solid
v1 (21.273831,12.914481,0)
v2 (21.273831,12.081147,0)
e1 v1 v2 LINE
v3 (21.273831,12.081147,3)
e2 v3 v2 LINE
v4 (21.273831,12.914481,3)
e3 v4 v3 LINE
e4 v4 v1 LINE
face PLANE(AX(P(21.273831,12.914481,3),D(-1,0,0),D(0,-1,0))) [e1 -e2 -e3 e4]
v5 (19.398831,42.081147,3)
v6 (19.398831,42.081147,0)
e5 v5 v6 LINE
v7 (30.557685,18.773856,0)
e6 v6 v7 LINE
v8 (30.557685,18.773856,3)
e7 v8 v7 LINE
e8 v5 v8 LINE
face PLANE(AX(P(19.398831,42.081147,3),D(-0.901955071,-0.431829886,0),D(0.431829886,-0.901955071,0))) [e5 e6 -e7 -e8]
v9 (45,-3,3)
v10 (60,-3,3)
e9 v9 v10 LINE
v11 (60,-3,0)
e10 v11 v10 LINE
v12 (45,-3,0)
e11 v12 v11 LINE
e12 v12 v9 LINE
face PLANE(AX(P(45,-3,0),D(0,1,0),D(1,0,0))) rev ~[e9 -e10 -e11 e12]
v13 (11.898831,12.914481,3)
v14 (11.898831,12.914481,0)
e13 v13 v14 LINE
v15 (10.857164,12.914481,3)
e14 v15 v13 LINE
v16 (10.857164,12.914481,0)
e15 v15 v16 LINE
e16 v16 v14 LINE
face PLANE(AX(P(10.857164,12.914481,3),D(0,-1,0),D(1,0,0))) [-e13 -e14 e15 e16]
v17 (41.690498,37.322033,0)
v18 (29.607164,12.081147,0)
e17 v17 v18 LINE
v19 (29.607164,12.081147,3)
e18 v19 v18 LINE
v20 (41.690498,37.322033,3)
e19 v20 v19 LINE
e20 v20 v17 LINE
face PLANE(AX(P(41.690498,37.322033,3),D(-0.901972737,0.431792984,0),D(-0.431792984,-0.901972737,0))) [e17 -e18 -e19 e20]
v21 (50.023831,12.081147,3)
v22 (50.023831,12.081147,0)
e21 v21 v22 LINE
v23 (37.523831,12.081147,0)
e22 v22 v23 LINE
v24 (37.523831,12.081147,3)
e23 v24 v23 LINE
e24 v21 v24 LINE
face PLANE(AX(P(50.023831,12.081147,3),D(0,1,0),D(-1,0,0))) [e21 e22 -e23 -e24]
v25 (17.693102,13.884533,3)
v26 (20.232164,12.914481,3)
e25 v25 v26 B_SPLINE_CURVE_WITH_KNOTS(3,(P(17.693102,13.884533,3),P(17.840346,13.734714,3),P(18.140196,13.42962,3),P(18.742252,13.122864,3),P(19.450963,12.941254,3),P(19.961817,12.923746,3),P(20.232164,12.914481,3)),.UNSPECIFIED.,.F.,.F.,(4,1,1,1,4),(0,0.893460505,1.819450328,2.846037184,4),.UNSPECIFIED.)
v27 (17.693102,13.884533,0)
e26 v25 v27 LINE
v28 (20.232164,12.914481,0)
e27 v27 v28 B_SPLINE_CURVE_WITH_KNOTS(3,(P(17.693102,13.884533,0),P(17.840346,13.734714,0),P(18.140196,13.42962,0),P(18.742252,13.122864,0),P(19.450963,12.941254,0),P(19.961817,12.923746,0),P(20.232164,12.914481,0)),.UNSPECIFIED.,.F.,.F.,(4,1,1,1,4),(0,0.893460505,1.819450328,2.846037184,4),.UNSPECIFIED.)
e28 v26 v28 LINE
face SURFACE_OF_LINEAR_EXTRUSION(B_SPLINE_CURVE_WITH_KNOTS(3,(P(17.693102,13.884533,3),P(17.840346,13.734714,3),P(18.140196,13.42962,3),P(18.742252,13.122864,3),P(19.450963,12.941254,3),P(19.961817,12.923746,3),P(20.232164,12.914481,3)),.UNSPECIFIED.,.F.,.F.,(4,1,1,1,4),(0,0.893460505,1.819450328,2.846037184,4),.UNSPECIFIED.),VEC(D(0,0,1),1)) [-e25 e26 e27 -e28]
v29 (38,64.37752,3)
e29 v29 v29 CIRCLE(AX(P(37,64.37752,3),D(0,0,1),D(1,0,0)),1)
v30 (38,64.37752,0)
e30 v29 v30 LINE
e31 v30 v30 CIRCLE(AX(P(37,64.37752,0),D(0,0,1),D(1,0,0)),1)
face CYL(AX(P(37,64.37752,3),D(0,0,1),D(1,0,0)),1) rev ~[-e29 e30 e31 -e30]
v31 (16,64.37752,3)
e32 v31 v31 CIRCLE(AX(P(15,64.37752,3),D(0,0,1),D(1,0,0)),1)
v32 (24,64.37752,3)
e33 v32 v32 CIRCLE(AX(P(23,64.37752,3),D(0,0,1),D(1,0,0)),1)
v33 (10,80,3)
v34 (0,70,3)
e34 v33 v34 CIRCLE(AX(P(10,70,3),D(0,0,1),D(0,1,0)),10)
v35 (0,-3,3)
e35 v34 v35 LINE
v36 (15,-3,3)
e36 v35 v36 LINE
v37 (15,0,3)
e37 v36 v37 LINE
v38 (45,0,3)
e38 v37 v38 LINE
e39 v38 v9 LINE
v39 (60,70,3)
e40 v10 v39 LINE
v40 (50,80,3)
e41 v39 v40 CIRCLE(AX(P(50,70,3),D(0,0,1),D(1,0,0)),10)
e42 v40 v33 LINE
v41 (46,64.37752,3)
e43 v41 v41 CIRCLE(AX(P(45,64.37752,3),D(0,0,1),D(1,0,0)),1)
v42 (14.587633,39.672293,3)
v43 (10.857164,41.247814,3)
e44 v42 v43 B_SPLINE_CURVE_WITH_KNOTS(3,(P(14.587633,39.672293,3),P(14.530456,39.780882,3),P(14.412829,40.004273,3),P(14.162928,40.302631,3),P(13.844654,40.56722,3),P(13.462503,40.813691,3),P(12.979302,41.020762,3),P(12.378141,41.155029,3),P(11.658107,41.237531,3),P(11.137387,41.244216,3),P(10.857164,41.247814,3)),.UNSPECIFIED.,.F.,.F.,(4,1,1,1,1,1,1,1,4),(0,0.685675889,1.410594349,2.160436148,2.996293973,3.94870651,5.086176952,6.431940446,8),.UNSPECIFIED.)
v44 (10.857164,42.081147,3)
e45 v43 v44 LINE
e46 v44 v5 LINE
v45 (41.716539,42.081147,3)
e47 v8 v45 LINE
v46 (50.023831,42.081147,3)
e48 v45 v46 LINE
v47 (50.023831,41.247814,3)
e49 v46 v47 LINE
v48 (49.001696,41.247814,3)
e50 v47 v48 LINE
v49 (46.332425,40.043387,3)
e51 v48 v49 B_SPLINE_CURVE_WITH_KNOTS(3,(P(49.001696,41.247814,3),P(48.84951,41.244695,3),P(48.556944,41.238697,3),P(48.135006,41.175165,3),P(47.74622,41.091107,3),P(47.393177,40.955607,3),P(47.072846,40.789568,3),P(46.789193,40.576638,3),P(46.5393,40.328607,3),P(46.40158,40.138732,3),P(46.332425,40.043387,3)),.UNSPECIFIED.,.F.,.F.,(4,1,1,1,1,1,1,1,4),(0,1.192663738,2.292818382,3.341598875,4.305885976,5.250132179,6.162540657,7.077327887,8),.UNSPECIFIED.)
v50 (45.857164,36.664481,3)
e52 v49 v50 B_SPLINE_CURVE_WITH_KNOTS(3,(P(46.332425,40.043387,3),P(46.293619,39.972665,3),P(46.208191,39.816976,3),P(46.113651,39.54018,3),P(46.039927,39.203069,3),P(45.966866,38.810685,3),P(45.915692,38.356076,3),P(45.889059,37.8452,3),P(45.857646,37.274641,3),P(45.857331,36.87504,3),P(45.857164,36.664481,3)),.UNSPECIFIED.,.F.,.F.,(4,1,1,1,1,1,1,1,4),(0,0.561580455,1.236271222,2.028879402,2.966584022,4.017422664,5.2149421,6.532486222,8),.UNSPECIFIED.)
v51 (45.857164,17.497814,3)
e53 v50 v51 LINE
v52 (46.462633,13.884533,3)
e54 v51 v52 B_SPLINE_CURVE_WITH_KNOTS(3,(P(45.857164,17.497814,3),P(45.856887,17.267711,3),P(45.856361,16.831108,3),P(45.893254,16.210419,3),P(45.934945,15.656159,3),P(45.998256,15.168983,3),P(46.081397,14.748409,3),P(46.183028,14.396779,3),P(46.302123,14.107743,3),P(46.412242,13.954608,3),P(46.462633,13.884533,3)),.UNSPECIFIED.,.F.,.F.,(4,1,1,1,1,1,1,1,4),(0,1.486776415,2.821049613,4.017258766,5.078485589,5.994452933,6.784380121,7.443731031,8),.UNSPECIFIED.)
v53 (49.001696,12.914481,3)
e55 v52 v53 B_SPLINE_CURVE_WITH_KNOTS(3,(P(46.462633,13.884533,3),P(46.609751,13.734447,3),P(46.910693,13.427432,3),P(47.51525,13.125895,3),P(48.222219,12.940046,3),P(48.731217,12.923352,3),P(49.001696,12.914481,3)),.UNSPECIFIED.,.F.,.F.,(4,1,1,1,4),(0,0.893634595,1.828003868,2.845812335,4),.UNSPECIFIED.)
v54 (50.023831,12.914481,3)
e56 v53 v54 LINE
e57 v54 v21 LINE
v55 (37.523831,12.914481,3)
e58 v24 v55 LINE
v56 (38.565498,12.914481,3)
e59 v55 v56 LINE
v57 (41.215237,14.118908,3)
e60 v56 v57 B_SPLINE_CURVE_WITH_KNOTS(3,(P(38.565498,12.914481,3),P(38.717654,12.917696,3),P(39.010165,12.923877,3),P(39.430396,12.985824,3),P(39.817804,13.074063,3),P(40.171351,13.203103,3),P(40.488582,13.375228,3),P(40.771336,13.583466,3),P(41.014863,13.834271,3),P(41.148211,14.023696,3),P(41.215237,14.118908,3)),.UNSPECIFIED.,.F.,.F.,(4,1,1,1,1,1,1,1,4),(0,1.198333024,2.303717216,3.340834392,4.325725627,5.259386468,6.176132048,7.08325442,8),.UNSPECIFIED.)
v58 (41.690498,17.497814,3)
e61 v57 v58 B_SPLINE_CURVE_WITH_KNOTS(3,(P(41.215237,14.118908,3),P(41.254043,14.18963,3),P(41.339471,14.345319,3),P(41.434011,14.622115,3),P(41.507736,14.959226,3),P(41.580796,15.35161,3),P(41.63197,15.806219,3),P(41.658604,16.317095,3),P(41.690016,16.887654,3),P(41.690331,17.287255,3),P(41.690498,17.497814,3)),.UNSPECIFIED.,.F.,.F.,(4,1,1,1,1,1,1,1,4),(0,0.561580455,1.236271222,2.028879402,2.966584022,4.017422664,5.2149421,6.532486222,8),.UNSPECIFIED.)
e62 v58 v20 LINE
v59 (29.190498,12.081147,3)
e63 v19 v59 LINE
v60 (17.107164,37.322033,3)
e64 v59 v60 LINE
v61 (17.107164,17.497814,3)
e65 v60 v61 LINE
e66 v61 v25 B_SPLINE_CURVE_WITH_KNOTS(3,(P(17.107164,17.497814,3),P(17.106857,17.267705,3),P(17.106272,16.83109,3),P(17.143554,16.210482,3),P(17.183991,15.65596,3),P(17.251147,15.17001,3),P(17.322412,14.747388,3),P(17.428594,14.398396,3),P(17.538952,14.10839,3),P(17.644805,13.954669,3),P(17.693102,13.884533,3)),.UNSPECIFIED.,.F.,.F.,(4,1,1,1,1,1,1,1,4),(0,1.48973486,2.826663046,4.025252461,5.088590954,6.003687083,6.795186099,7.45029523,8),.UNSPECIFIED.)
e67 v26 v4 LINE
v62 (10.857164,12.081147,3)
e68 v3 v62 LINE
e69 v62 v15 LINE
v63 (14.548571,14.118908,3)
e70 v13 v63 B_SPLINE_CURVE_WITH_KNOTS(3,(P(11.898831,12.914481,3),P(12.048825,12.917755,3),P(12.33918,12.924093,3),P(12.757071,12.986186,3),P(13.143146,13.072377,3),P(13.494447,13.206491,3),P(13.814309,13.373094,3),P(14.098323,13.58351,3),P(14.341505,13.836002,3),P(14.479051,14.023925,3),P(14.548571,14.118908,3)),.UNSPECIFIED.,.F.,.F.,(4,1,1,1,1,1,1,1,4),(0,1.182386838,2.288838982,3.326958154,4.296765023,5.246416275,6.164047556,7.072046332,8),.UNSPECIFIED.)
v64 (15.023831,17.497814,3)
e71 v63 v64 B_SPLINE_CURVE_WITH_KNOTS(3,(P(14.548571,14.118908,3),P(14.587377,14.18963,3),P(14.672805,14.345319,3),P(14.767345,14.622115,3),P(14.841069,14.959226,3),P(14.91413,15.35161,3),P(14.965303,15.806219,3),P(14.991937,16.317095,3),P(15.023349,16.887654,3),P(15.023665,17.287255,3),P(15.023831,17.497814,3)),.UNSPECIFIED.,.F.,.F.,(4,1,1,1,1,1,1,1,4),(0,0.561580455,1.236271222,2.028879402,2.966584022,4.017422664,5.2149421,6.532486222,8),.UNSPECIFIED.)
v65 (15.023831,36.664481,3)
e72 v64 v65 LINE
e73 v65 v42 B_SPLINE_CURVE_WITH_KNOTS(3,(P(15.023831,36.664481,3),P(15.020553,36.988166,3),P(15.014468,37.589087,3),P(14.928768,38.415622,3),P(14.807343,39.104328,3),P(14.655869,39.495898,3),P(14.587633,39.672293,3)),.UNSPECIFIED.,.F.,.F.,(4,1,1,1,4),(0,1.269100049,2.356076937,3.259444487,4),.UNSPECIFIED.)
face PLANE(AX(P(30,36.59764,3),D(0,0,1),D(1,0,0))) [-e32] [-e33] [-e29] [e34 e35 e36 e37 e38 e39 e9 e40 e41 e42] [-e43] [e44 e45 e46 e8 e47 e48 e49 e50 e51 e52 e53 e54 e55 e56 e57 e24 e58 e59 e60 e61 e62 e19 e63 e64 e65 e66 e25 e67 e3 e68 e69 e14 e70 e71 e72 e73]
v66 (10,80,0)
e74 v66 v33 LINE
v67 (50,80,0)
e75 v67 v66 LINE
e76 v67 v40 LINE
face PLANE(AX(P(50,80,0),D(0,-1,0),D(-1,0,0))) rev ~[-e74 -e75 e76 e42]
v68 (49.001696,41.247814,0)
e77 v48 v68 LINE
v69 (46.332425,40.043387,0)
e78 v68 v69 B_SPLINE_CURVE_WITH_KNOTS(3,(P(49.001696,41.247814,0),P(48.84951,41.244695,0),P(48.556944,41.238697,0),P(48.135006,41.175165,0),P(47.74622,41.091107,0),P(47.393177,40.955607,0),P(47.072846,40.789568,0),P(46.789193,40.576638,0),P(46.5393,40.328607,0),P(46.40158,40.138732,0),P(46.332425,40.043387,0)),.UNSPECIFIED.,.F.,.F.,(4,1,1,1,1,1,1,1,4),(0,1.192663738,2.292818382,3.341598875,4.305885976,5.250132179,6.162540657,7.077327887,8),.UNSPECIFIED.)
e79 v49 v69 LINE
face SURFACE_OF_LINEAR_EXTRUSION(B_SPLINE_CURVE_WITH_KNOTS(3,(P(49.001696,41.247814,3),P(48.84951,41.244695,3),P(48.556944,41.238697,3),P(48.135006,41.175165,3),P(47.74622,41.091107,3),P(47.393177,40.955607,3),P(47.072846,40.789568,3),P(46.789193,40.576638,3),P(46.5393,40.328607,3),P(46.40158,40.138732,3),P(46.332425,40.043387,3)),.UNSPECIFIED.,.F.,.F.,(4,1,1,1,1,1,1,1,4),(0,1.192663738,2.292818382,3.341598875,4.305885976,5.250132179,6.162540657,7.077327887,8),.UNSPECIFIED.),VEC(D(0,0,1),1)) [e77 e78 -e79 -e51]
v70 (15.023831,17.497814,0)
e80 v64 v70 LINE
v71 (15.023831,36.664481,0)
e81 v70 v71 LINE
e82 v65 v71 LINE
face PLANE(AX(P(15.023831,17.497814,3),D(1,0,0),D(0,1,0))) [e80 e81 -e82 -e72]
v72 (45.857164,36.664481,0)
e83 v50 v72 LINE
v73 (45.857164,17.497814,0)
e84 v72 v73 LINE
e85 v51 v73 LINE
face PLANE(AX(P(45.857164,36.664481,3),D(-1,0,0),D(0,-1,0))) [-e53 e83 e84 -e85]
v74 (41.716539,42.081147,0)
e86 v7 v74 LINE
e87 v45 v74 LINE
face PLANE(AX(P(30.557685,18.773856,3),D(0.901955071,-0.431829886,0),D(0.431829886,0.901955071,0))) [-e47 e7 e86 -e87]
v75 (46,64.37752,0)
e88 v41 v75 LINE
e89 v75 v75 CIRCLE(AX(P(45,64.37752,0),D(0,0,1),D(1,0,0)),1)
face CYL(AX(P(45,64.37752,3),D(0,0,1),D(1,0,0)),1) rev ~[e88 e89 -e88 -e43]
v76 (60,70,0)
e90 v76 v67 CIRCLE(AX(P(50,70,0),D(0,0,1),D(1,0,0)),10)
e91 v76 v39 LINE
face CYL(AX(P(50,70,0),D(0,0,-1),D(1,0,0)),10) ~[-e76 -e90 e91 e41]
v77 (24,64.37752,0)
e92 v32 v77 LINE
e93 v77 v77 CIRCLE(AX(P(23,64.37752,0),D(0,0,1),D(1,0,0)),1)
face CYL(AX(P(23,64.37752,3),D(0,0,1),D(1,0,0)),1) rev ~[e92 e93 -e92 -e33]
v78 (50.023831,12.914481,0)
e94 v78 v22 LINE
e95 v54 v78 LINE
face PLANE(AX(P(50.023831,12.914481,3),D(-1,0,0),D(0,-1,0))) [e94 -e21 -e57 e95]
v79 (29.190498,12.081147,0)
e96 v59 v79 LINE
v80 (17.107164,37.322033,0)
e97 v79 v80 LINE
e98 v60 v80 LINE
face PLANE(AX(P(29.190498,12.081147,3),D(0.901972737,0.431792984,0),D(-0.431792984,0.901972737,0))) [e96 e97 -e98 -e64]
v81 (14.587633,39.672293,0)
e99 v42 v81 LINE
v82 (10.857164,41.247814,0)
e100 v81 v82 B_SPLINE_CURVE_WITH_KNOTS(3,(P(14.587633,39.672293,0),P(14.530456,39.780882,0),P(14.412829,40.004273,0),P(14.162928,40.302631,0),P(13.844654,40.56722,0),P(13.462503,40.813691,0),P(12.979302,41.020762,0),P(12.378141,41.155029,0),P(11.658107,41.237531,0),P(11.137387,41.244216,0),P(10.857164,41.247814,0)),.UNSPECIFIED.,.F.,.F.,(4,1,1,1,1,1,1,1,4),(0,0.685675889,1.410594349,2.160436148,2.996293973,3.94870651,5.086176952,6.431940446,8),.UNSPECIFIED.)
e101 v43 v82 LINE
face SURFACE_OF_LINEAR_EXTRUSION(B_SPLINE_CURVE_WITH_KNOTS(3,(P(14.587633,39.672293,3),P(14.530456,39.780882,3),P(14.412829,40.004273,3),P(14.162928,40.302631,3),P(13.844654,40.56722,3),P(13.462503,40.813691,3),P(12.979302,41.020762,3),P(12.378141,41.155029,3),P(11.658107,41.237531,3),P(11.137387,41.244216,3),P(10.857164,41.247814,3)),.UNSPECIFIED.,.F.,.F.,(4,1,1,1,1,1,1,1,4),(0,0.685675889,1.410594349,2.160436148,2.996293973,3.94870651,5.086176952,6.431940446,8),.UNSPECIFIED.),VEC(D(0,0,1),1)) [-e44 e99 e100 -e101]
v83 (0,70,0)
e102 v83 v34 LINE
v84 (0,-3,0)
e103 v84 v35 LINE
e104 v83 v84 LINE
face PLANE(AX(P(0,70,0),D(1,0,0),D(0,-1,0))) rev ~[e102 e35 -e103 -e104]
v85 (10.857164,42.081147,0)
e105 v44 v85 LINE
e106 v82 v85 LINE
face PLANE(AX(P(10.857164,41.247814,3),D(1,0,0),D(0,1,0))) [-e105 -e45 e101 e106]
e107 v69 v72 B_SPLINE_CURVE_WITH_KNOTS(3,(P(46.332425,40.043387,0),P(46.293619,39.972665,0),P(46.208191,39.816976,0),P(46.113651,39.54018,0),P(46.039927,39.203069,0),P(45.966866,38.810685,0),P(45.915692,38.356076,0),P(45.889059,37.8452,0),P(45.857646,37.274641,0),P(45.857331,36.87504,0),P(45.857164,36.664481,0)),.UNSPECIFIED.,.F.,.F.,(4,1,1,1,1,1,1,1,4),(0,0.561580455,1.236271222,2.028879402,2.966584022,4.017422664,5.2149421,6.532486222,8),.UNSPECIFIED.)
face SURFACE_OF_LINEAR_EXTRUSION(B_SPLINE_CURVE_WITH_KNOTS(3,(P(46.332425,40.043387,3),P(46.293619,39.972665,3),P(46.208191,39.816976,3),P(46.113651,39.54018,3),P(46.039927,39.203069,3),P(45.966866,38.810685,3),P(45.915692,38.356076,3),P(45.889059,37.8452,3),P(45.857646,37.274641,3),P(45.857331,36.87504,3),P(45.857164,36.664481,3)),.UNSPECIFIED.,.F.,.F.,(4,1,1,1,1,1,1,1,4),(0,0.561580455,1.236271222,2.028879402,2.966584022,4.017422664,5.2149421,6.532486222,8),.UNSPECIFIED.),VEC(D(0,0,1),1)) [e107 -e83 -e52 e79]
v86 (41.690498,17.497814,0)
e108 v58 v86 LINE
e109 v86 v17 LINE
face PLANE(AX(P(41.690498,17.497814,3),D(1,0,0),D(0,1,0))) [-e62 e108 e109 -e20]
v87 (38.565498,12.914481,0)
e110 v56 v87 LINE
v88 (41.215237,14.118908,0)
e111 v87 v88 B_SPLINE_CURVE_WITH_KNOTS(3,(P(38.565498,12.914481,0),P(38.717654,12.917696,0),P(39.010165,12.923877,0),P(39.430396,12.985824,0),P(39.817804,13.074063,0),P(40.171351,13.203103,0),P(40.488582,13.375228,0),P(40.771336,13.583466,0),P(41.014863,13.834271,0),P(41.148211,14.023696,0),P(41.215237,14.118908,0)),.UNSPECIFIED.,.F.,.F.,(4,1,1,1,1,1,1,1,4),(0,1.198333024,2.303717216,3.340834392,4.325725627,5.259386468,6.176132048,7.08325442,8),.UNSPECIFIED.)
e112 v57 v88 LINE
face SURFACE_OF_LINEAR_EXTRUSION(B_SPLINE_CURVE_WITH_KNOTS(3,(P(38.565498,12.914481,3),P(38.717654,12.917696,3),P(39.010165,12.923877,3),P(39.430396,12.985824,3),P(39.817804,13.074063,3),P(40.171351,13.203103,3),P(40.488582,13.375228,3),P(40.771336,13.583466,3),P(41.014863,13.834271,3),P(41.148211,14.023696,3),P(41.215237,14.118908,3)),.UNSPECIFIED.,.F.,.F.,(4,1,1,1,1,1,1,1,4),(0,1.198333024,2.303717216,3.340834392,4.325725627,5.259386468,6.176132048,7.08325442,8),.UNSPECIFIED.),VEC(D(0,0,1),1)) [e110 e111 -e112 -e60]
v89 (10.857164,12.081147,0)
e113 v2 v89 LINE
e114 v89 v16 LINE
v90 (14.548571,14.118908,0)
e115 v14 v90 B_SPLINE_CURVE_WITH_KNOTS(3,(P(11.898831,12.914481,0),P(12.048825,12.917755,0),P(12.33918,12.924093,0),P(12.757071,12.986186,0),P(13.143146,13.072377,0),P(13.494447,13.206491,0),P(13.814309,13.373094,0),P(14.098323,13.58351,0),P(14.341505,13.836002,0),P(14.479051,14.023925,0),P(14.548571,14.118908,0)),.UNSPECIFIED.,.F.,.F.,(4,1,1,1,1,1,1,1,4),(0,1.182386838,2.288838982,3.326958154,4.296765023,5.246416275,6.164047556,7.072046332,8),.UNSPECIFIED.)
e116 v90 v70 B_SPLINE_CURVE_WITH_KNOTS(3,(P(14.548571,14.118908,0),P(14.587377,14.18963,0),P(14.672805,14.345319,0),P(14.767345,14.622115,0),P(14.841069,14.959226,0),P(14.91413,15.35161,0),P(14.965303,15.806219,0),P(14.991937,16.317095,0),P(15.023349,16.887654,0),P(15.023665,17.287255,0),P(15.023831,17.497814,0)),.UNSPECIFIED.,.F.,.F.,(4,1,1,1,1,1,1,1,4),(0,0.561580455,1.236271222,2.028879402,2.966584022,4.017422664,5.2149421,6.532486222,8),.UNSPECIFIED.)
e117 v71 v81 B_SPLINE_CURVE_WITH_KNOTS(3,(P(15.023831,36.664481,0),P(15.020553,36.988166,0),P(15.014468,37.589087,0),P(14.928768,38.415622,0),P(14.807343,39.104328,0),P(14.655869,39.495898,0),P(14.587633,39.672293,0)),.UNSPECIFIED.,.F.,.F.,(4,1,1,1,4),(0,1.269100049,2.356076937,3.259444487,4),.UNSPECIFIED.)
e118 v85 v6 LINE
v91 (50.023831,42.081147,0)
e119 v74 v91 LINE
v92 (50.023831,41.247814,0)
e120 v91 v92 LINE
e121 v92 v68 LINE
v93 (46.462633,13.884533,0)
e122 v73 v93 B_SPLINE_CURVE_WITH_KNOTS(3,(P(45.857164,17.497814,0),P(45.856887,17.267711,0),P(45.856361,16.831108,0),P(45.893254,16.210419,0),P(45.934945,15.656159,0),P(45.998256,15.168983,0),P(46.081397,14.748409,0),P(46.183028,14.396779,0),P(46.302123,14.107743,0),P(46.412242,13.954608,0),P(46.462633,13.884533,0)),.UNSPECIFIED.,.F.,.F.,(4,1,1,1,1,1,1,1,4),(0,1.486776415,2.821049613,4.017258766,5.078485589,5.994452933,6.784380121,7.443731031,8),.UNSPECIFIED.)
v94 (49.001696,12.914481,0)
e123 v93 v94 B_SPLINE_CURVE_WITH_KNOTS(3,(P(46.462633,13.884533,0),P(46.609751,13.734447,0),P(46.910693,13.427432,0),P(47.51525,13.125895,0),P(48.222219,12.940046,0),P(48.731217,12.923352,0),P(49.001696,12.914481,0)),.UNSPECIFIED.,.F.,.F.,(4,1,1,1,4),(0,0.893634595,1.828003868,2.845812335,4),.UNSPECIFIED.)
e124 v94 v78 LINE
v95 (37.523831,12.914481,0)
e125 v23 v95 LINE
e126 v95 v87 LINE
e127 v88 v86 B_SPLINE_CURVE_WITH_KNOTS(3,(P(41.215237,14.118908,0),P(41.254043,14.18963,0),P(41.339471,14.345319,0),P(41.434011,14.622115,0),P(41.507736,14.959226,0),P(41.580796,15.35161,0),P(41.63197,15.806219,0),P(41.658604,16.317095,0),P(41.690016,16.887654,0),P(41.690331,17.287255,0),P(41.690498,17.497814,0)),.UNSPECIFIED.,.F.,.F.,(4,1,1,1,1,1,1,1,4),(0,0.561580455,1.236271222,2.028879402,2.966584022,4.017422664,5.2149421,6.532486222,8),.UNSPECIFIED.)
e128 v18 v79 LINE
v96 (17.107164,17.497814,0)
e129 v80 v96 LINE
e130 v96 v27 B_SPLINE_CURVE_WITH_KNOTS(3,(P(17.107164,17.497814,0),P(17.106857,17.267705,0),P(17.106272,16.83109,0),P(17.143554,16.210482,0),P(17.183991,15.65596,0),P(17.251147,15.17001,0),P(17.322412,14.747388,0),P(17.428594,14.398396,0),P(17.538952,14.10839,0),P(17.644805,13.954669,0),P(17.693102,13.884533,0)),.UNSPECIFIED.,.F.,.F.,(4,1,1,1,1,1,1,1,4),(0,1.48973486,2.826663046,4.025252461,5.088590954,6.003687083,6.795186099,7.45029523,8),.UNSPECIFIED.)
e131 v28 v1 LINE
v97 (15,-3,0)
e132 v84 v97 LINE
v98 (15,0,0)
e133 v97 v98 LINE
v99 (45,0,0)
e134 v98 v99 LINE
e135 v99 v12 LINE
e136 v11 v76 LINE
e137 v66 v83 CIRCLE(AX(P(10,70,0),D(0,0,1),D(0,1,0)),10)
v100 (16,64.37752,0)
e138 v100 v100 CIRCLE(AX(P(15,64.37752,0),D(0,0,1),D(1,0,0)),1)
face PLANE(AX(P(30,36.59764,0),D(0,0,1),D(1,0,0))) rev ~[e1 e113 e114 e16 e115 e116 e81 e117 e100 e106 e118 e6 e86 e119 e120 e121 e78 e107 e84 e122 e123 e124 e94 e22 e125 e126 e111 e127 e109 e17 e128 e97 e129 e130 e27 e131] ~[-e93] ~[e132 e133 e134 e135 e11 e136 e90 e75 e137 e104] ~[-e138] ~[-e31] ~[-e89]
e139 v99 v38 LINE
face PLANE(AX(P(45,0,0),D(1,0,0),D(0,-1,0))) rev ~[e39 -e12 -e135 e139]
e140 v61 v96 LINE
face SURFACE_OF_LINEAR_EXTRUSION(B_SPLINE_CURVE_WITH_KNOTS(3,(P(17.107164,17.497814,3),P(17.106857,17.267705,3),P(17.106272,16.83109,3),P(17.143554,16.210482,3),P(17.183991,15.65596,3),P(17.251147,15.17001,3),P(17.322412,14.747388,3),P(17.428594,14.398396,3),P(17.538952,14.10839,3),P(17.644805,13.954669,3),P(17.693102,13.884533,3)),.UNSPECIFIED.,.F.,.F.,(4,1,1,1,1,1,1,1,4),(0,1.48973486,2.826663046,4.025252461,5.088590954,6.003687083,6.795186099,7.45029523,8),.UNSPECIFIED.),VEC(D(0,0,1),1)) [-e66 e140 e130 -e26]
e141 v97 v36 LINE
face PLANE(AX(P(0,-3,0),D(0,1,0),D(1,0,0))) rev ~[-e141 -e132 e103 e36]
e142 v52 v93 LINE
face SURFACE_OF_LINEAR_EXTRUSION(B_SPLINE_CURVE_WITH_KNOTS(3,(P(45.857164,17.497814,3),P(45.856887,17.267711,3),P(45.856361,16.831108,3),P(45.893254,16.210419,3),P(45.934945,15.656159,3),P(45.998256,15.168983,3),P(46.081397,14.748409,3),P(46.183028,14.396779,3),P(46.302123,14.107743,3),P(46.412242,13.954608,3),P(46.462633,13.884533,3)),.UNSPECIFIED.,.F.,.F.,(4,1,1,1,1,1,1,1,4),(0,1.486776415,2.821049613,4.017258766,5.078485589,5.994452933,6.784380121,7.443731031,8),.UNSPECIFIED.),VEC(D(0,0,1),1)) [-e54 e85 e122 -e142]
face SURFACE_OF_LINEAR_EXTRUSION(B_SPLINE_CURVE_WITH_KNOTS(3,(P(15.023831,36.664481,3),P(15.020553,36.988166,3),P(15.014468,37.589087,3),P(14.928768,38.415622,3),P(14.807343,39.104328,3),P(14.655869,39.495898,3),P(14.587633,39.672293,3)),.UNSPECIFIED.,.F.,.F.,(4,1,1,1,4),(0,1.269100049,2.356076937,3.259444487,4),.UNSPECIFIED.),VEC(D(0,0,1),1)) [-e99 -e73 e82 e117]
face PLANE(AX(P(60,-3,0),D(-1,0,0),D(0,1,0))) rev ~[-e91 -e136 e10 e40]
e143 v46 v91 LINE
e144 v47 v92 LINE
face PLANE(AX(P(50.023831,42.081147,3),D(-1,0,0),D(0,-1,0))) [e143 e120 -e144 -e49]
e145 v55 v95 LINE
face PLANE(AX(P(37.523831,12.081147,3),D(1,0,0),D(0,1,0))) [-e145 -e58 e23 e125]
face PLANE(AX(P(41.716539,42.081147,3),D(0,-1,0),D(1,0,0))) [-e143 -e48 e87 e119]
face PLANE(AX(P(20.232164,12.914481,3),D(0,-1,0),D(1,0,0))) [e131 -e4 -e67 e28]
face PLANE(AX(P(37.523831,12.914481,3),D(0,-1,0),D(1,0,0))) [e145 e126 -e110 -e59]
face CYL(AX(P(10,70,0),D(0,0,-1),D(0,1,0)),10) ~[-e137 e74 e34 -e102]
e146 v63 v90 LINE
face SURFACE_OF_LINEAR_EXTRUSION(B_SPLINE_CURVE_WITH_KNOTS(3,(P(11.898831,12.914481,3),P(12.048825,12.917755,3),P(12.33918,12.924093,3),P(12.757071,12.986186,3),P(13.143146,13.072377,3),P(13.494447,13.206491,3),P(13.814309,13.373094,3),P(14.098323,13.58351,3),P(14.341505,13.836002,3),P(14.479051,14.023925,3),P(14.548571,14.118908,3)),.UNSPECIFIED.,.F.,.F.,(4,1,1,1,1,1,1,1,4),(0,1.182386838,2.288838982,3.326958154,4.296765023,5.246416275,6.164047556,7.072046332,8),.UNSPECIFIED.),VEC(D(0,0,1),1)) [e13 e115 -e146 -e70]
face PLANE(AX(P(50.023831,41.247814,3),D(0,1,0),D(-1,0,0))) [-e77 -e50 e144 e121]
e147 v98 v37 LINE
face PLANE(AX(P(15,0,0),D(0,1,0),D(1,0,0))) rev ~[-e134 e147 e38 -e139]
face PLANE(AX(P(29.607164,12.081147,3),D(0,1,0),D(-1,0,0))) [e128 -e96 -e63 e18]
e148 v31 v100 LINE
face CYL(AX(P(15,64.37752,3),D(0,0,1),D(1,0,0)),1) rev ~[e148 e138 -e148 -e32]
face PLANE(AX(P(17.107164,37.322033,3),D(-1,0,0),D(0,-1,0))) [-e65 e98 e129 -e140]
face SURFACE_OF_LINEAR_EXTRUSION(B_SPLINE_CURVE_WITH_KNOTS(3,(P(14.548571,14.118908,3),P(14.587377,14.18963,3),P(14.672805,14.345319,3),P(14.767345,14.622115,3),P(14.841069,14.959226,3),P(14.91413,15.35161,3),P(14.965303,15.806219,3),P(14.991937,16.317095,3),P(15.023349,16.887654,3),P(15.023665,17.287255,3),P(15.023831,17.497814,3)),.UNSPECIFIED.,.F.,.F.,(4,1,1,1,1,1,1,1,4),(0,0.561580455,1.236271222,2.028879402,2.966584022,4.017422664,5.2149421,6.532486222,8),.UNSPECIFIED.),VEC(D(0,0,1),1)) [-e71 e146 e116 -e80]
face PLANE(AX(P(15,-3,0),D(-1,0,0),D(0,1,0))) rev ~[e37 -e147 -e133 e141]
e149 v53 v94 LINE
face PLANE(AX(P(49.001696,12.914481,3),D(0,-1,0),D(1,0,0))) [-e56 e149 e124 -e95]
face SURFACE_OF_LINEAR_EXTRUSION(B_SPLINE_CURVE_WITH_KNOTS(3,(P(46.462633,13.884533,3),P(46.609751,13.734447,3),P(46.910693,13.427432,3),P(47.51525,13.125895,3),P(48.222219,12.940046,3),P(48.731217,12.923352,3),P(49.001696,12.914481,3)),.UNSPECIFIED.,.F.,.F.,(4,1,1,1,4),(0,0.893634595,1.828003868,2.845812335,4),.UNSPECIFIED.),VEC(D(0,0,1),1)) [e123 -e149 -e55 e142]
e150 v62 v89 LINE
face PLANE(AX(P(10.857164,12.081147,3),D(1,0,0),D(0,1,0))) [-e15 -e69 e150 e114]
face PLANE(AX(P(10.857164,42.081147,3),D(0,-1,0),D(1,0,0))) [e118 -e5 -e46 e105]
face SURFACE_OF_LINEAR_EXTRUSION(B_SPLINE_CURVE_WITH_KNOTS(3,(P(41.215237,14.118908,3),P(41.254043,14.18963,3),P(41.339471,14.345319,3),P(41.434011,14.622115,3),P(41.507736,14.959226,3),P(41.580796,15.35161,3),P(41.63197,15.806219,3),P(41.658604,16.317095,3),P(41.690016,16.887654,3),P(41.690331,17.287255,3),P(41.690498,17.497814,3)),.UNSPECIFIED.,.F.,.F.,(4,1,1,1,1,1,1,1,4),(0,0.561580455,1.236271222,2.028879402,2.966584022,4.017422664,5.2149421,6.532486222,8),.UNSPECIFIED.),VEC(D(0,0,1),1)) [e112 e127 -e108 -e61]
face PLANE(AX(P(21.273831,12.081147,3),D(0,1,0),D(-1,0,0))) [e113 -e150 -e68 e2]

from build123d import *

# Parameters (mm, degrees)
BOSS_EXTRUDE1_DEPTH = 3
CUT_EXTRUDE1_DEPTH  = 3
SKETCH3_R           = 1
CUT_EXTRUDE2_DEPTH  = 3


with BuildPart() as part:
    # Sketch1 → Boss-Extrude1 (new body)
    with BuildSketch(Plane.XY):
        with BuildLine():
            Line((15, 0), (45, 0))
            Line((45, 0), (45, -3))
            Line((45, -3), (60, -3))
            Line((60, -3), (60, 0))
            Line((60, 0), (60, 70))
            ThreePointArc((60, 70), (57.071067812, 77.071067812), (50, 80))
            Line((50, 80), (10, 80))
            ThreePointArc((10, 80), (2.928932188, 77.071067812), (0, 70))
            Line((0, 70), (0, 0))
            Line((0, 0), (0, -3))
            Line((0, -3), (15, -3))
            Line((15, -3), (15, 0))
        make_face()
    extrude(amount=BOSS_EXTRUDE1_DEPTH)

    # Sketch2 → Cut-Extrude1 (cut)
    with BuildSketch(Plane.XY.offset(3)):
        with BuildLine():
            Line((29.19049781, 12.081147466), (17.107164477, 37.322032883))
            Line((17.107164477, 37.322032883), (17.107164477, 17.497814133))
            add(Edge.make_bspline(
                [(17.107164477, 17.497814133), (17.106856563, 17.267704948), (17.106272319, 16.831089584), (17.143554032, 16.210481556), (17.183991208, 15.655960439), (17.251147223, 15.170009562), (17.322412489, 14.747387769), (17.428594053, 14.398396218), (17.538951634, 14.108390436), (17.644805439, 13.95466925), (17.693101977, 13.884532883)],
                knots=[0, 0, 0, 0, 1.48973486, 2.826663046, 4.025252461, 5.088590954, 6.003687083, 6.795186099, 7.45029523, 8, 8, 8, 8], degree=3))
            add(Edge.make_bspline(
                [(17.693101977, 13.884532883), (17.840346266, 13.73471353), (18.140195748, 13.429620165), (18.742251873, 13.122863505), (19.450963165, 12.941254282), (19.961816932, 12.923746203), (20.232164477, 12.9144808)],
                knots=[0, 0, 0, 0, 0.893460505, 1.819450328, 2.846037184, 4, 4, 4, 4], degree=3))
            Line((20.232164477, 12.9144808), (21.273831144, 12.9144808))
            Line((21.273831144, 12.9144808), (21.273831144, 12.081147466))
            Line((21.273831144, 12.081147466), (10.857164477, 12.081147466))
            Line((10.857164477, 12.081147466), (10.857164477, 12.9144808))
            Line((10.857164477, 12.9144808), (11.898831144, 12.9144808))
            add(Edge.make_bspline(
                [(11.898831144, 12.9144808), (12.048825145, 12.917755098), (12.339180303, 12.924093413), (12.757070795, 12.986186233), (13.143145766, 13.072376691), (13.494447303, 13.206491265), (13.814309401, 13.373094257), (14.09832336, 13.583510491), (14.341505484, 13.83600194), (14.479050655, 14.023925059), (14.548570727, 14.118907883)],
                knots=[0, 0, 0, 0, 1.182386838, 2.288838982, 3.326958154, 4.296765023, 5.246416275, 6.164047556, 7.072046332, 8, 8, 8, 8], degree=3))
            add(Edge.make_bspline(
                [(14.548570727, 14.118907883), (14.587376699, 14.189630143), (14.672804719, 14.345319134), (14.767344621, 14.622115391), (14.841068835, 14.959225842), (14.914129522, 15.351610192), (14.965303143, 15.806218983), (14.991936983, 16.317094802), (15.023349157, 16.887654031), (15.023664816, 17.28725487), (15.023831144, 17.497814133)],
                knots=[0, 0, 0, 0, 0.561580455, 1.236271222, 2.028879402, 2.966584022, 4.017422664, 5.2149421, 6.532486222, 8, 8, 8, 8], degree=3))
            Line((15.023831144, 17.497814133), (15.023831144, 36.6644808))
            add(Edge.make_bspline(
                [(15.023831144, 36.6644808), (15.02055328, 36.988166413), (15.014467946, 37.589086891), (14.928768358, 38.415621701), (14.807342688, 39.104328259), (14.655869132, 39.495898491), (14.587633227, 39.6722933)],
                knots=[0, 0, 0, 0, 1.269100049, 2.356076937, 3.259444487, 4, 4, 4, 4], degree=3))
            add(Edge.make_bspline(
                [(14.587633227, 39.6722933), (14.530456066, 39.780881674), (14.412829383, 40.004273146), (14.162927878, 40.302631077), (13.844654076, 40.567219507), (13.462503112, 40.813691306), (12.979301958, 41.020762409), (12.378141387, 41.15502888), (11.658107064, 41.237530633), (11.137387273, 41.244216283), (10.857164477, 41.247814133)],
                knots=[0, 0, 0, 0, 0.685675889, 1.410594349, 2.160436148, 2.996293973, 3.94870651, 5.086176952, 6.431940446, 8, 8, 8, 8], degree=3))
            Line((10.857164477, 41.247814133), (10.857164477, 42.081147466))
            Line((10.857164477, 42.081147466), (19.398831144, 42.081147466))
            Line((19.398831144, 42.081147466), (30.55768531, 18.7738558))
            Line((30.55768531, 18.7738558), (41.716539477, 42.081147466))
            Line((41.716539477, 42.081147466), (50.023831144, 42.081147466))
            Line((50.023831144, 42.081147466), (50.023831144, 41.247814133))
            Line((50.023831144, 41.247814133), (49.001695727, 41.247814133))
            add(Edge.make_bspline(
                [(49.001695727, 41.247814133), (48.849510318, 41.244694592), (48.556943778, 41.238697479), (48.135006283, 41.175164667), (47.746219832, 41.091107105), (47.393177435, 40.955606693), (47.072846278, 40.789567822), (46.789193443, 40.576638492), (46.539300059, 40.328607353), (46.401580276, 40.138732081), (46.332424894, 40.04338705)],
                knots=[0, 0, 0, 0, 1.192663738, 2.292818382, 3.341598875, 4.305885976, 5.250132179, 6.162540657, 7.077327887, 8, 8, 8, 8], degree=3))
            add(Edge.make_bspline(
                [(46.332424894, 40.04338705), (46.293618922, 39.97266479), (46.208190902, 39.816975798), (46.113651, 39.540179542), (46.039926786, 39.20306909), (45.966866099, 38.810684741), (45.915692478, 38.35607595), (45.889058638, 37.845200131), (45.857646464, 37.274640902), (45.857330805, 36.875040062), (45.857164477, 36.6644808)],
                knots=[0, 0, 0, 0, 0.561580455, 1.236271222, 2.028879402, 2.966584022, 4.017422664, 5.2149421, 6.532486222, 8, 8, 8, 8], degree=3))
            Line((45.857164477, 36.6644808), (45.857164477, 17.497814133))
            add(Edge.make_bspline(
                [(45.857164477, 17.497814133), (45.856887283, 17.267711351), (45.856361328, 16.831108136), (45.893253556, 16.210418928), (45.934944838, 15.656159203), (45.99825562, 15.168982955), (46.081396816, 14.748408827), (46.183028471, 14.396778863), (46.302123125, 14.10774347), (46.412242488, 13.95460789), (46.462633227, 13.884532883)],
                knots=[0, 0, 0, 0, 1.486776415, 2.821049613, 4.017258766, 5.078485589, 5.994452933, 6.784380121, 7.443731031, 8, 8, 8, 8], degree=3))
            add(Edge.make_bspline(
                [(46.462633227, 13.884532883), (46.609751164, 13.734446531), (46.910693137, 13.427432419), (47.515250463, 13.125895229), (48.222218515, 12.940045729), (48.731216692, 12.923351845), (49.001695727, 12.9144808)],
                knots=[0, 0, 0, 0, 0.893634595, 1.828003868, 2.845812335, 4, 4, 4, 4], degree=3))
            Line((49.001695727, 12.9144808), (50.023831144, 12.9144808))
            Line((50.023831144, 12.9144808), (50.023831144, 12.081147466))
            Line((50.023831144, 12.081147466), (37.523831144, 12.081147466))
            Line((37.523831144, 12.081147466), (37.523831144, 12.9144808))
            Line((37.523831144, 12.9144808), (38.56549781, 12.9144808))
            add(Edge.make_bspline(
                [(38.56549781, 12.9144808), (38.717654175, 12.917695974), (39.010164878, 12.923876936), (39.430396151, 12.985823667), (39.817804477, 13.074062693), (40.171351147, 13.203103474), (40.488581605, 13.375227668), (40.771335549, 13.583465527), (41.01486323, 13.834271299), (41.148211479, 14.02369587), (41.215237394, 14.118907883)],
                knots=[0, 0, 0, 0, 1.198333024, 2.303717216, 3.340834392, 4.325725627, 5.259386468, 6.176132048, 7.08325442, 8, 8, 8, 8], degree=3))
            add(Edge.make_bspline(
                [(41.215237394, 14.118907883), (41.254043366, 14.189630143), (41.339471385, 14.345319134), (41.434011288, 14.622115391), (41.507735502, 14.959225842), (41.580796189, 15.351610192), (41.631969809, 15.806218983), (41.658603649, 16.317094802), (41.690015823, 16.887654031), (41.690331482, 17.28725487), (41.69049781, 17.497814133)],
                knots=[0, 0, 0, 0, 0.561580455, 1.236271222, 2.028879402, 2.966584022, 4.017422664, 5.2149421, 6.532486222, 8, 8, 8, 8], degree=3))
            Line((41.69049781, 17.497814133), (41.69049781, 37.322032883))
            Line((41.69049781, 37.322032883), (29.607164477, 12.081147466))
            Line((29.607164477, 12.081147466), (29.19049781, 12.081147466))
        make_face()
    extrude(amount=-CUT_EXTRUDE1_DEPTH, mode=Mode.SUBTRACT)

    # Sketch3 → Cut-Extrude2 (cut)
    with BuildSketch(Plane.XY.offset(3)):
        with Locations((15, 64.377519573)):
            Circle(SKETCH3_R)
        with Locations((45, 64.377519573)):
            Circle(SKETCH3_R)
        with Locations((23, 64.377519573)):
            Circle(SKETCH3_R)
        with Locations((37, 64.377519573)):
            Circle(SKETCH3_R)
    extrude(amount=-CUT_EXTRUDE2_DEPTH, mode=Mode.SUBTRACT)


solid = part.part
